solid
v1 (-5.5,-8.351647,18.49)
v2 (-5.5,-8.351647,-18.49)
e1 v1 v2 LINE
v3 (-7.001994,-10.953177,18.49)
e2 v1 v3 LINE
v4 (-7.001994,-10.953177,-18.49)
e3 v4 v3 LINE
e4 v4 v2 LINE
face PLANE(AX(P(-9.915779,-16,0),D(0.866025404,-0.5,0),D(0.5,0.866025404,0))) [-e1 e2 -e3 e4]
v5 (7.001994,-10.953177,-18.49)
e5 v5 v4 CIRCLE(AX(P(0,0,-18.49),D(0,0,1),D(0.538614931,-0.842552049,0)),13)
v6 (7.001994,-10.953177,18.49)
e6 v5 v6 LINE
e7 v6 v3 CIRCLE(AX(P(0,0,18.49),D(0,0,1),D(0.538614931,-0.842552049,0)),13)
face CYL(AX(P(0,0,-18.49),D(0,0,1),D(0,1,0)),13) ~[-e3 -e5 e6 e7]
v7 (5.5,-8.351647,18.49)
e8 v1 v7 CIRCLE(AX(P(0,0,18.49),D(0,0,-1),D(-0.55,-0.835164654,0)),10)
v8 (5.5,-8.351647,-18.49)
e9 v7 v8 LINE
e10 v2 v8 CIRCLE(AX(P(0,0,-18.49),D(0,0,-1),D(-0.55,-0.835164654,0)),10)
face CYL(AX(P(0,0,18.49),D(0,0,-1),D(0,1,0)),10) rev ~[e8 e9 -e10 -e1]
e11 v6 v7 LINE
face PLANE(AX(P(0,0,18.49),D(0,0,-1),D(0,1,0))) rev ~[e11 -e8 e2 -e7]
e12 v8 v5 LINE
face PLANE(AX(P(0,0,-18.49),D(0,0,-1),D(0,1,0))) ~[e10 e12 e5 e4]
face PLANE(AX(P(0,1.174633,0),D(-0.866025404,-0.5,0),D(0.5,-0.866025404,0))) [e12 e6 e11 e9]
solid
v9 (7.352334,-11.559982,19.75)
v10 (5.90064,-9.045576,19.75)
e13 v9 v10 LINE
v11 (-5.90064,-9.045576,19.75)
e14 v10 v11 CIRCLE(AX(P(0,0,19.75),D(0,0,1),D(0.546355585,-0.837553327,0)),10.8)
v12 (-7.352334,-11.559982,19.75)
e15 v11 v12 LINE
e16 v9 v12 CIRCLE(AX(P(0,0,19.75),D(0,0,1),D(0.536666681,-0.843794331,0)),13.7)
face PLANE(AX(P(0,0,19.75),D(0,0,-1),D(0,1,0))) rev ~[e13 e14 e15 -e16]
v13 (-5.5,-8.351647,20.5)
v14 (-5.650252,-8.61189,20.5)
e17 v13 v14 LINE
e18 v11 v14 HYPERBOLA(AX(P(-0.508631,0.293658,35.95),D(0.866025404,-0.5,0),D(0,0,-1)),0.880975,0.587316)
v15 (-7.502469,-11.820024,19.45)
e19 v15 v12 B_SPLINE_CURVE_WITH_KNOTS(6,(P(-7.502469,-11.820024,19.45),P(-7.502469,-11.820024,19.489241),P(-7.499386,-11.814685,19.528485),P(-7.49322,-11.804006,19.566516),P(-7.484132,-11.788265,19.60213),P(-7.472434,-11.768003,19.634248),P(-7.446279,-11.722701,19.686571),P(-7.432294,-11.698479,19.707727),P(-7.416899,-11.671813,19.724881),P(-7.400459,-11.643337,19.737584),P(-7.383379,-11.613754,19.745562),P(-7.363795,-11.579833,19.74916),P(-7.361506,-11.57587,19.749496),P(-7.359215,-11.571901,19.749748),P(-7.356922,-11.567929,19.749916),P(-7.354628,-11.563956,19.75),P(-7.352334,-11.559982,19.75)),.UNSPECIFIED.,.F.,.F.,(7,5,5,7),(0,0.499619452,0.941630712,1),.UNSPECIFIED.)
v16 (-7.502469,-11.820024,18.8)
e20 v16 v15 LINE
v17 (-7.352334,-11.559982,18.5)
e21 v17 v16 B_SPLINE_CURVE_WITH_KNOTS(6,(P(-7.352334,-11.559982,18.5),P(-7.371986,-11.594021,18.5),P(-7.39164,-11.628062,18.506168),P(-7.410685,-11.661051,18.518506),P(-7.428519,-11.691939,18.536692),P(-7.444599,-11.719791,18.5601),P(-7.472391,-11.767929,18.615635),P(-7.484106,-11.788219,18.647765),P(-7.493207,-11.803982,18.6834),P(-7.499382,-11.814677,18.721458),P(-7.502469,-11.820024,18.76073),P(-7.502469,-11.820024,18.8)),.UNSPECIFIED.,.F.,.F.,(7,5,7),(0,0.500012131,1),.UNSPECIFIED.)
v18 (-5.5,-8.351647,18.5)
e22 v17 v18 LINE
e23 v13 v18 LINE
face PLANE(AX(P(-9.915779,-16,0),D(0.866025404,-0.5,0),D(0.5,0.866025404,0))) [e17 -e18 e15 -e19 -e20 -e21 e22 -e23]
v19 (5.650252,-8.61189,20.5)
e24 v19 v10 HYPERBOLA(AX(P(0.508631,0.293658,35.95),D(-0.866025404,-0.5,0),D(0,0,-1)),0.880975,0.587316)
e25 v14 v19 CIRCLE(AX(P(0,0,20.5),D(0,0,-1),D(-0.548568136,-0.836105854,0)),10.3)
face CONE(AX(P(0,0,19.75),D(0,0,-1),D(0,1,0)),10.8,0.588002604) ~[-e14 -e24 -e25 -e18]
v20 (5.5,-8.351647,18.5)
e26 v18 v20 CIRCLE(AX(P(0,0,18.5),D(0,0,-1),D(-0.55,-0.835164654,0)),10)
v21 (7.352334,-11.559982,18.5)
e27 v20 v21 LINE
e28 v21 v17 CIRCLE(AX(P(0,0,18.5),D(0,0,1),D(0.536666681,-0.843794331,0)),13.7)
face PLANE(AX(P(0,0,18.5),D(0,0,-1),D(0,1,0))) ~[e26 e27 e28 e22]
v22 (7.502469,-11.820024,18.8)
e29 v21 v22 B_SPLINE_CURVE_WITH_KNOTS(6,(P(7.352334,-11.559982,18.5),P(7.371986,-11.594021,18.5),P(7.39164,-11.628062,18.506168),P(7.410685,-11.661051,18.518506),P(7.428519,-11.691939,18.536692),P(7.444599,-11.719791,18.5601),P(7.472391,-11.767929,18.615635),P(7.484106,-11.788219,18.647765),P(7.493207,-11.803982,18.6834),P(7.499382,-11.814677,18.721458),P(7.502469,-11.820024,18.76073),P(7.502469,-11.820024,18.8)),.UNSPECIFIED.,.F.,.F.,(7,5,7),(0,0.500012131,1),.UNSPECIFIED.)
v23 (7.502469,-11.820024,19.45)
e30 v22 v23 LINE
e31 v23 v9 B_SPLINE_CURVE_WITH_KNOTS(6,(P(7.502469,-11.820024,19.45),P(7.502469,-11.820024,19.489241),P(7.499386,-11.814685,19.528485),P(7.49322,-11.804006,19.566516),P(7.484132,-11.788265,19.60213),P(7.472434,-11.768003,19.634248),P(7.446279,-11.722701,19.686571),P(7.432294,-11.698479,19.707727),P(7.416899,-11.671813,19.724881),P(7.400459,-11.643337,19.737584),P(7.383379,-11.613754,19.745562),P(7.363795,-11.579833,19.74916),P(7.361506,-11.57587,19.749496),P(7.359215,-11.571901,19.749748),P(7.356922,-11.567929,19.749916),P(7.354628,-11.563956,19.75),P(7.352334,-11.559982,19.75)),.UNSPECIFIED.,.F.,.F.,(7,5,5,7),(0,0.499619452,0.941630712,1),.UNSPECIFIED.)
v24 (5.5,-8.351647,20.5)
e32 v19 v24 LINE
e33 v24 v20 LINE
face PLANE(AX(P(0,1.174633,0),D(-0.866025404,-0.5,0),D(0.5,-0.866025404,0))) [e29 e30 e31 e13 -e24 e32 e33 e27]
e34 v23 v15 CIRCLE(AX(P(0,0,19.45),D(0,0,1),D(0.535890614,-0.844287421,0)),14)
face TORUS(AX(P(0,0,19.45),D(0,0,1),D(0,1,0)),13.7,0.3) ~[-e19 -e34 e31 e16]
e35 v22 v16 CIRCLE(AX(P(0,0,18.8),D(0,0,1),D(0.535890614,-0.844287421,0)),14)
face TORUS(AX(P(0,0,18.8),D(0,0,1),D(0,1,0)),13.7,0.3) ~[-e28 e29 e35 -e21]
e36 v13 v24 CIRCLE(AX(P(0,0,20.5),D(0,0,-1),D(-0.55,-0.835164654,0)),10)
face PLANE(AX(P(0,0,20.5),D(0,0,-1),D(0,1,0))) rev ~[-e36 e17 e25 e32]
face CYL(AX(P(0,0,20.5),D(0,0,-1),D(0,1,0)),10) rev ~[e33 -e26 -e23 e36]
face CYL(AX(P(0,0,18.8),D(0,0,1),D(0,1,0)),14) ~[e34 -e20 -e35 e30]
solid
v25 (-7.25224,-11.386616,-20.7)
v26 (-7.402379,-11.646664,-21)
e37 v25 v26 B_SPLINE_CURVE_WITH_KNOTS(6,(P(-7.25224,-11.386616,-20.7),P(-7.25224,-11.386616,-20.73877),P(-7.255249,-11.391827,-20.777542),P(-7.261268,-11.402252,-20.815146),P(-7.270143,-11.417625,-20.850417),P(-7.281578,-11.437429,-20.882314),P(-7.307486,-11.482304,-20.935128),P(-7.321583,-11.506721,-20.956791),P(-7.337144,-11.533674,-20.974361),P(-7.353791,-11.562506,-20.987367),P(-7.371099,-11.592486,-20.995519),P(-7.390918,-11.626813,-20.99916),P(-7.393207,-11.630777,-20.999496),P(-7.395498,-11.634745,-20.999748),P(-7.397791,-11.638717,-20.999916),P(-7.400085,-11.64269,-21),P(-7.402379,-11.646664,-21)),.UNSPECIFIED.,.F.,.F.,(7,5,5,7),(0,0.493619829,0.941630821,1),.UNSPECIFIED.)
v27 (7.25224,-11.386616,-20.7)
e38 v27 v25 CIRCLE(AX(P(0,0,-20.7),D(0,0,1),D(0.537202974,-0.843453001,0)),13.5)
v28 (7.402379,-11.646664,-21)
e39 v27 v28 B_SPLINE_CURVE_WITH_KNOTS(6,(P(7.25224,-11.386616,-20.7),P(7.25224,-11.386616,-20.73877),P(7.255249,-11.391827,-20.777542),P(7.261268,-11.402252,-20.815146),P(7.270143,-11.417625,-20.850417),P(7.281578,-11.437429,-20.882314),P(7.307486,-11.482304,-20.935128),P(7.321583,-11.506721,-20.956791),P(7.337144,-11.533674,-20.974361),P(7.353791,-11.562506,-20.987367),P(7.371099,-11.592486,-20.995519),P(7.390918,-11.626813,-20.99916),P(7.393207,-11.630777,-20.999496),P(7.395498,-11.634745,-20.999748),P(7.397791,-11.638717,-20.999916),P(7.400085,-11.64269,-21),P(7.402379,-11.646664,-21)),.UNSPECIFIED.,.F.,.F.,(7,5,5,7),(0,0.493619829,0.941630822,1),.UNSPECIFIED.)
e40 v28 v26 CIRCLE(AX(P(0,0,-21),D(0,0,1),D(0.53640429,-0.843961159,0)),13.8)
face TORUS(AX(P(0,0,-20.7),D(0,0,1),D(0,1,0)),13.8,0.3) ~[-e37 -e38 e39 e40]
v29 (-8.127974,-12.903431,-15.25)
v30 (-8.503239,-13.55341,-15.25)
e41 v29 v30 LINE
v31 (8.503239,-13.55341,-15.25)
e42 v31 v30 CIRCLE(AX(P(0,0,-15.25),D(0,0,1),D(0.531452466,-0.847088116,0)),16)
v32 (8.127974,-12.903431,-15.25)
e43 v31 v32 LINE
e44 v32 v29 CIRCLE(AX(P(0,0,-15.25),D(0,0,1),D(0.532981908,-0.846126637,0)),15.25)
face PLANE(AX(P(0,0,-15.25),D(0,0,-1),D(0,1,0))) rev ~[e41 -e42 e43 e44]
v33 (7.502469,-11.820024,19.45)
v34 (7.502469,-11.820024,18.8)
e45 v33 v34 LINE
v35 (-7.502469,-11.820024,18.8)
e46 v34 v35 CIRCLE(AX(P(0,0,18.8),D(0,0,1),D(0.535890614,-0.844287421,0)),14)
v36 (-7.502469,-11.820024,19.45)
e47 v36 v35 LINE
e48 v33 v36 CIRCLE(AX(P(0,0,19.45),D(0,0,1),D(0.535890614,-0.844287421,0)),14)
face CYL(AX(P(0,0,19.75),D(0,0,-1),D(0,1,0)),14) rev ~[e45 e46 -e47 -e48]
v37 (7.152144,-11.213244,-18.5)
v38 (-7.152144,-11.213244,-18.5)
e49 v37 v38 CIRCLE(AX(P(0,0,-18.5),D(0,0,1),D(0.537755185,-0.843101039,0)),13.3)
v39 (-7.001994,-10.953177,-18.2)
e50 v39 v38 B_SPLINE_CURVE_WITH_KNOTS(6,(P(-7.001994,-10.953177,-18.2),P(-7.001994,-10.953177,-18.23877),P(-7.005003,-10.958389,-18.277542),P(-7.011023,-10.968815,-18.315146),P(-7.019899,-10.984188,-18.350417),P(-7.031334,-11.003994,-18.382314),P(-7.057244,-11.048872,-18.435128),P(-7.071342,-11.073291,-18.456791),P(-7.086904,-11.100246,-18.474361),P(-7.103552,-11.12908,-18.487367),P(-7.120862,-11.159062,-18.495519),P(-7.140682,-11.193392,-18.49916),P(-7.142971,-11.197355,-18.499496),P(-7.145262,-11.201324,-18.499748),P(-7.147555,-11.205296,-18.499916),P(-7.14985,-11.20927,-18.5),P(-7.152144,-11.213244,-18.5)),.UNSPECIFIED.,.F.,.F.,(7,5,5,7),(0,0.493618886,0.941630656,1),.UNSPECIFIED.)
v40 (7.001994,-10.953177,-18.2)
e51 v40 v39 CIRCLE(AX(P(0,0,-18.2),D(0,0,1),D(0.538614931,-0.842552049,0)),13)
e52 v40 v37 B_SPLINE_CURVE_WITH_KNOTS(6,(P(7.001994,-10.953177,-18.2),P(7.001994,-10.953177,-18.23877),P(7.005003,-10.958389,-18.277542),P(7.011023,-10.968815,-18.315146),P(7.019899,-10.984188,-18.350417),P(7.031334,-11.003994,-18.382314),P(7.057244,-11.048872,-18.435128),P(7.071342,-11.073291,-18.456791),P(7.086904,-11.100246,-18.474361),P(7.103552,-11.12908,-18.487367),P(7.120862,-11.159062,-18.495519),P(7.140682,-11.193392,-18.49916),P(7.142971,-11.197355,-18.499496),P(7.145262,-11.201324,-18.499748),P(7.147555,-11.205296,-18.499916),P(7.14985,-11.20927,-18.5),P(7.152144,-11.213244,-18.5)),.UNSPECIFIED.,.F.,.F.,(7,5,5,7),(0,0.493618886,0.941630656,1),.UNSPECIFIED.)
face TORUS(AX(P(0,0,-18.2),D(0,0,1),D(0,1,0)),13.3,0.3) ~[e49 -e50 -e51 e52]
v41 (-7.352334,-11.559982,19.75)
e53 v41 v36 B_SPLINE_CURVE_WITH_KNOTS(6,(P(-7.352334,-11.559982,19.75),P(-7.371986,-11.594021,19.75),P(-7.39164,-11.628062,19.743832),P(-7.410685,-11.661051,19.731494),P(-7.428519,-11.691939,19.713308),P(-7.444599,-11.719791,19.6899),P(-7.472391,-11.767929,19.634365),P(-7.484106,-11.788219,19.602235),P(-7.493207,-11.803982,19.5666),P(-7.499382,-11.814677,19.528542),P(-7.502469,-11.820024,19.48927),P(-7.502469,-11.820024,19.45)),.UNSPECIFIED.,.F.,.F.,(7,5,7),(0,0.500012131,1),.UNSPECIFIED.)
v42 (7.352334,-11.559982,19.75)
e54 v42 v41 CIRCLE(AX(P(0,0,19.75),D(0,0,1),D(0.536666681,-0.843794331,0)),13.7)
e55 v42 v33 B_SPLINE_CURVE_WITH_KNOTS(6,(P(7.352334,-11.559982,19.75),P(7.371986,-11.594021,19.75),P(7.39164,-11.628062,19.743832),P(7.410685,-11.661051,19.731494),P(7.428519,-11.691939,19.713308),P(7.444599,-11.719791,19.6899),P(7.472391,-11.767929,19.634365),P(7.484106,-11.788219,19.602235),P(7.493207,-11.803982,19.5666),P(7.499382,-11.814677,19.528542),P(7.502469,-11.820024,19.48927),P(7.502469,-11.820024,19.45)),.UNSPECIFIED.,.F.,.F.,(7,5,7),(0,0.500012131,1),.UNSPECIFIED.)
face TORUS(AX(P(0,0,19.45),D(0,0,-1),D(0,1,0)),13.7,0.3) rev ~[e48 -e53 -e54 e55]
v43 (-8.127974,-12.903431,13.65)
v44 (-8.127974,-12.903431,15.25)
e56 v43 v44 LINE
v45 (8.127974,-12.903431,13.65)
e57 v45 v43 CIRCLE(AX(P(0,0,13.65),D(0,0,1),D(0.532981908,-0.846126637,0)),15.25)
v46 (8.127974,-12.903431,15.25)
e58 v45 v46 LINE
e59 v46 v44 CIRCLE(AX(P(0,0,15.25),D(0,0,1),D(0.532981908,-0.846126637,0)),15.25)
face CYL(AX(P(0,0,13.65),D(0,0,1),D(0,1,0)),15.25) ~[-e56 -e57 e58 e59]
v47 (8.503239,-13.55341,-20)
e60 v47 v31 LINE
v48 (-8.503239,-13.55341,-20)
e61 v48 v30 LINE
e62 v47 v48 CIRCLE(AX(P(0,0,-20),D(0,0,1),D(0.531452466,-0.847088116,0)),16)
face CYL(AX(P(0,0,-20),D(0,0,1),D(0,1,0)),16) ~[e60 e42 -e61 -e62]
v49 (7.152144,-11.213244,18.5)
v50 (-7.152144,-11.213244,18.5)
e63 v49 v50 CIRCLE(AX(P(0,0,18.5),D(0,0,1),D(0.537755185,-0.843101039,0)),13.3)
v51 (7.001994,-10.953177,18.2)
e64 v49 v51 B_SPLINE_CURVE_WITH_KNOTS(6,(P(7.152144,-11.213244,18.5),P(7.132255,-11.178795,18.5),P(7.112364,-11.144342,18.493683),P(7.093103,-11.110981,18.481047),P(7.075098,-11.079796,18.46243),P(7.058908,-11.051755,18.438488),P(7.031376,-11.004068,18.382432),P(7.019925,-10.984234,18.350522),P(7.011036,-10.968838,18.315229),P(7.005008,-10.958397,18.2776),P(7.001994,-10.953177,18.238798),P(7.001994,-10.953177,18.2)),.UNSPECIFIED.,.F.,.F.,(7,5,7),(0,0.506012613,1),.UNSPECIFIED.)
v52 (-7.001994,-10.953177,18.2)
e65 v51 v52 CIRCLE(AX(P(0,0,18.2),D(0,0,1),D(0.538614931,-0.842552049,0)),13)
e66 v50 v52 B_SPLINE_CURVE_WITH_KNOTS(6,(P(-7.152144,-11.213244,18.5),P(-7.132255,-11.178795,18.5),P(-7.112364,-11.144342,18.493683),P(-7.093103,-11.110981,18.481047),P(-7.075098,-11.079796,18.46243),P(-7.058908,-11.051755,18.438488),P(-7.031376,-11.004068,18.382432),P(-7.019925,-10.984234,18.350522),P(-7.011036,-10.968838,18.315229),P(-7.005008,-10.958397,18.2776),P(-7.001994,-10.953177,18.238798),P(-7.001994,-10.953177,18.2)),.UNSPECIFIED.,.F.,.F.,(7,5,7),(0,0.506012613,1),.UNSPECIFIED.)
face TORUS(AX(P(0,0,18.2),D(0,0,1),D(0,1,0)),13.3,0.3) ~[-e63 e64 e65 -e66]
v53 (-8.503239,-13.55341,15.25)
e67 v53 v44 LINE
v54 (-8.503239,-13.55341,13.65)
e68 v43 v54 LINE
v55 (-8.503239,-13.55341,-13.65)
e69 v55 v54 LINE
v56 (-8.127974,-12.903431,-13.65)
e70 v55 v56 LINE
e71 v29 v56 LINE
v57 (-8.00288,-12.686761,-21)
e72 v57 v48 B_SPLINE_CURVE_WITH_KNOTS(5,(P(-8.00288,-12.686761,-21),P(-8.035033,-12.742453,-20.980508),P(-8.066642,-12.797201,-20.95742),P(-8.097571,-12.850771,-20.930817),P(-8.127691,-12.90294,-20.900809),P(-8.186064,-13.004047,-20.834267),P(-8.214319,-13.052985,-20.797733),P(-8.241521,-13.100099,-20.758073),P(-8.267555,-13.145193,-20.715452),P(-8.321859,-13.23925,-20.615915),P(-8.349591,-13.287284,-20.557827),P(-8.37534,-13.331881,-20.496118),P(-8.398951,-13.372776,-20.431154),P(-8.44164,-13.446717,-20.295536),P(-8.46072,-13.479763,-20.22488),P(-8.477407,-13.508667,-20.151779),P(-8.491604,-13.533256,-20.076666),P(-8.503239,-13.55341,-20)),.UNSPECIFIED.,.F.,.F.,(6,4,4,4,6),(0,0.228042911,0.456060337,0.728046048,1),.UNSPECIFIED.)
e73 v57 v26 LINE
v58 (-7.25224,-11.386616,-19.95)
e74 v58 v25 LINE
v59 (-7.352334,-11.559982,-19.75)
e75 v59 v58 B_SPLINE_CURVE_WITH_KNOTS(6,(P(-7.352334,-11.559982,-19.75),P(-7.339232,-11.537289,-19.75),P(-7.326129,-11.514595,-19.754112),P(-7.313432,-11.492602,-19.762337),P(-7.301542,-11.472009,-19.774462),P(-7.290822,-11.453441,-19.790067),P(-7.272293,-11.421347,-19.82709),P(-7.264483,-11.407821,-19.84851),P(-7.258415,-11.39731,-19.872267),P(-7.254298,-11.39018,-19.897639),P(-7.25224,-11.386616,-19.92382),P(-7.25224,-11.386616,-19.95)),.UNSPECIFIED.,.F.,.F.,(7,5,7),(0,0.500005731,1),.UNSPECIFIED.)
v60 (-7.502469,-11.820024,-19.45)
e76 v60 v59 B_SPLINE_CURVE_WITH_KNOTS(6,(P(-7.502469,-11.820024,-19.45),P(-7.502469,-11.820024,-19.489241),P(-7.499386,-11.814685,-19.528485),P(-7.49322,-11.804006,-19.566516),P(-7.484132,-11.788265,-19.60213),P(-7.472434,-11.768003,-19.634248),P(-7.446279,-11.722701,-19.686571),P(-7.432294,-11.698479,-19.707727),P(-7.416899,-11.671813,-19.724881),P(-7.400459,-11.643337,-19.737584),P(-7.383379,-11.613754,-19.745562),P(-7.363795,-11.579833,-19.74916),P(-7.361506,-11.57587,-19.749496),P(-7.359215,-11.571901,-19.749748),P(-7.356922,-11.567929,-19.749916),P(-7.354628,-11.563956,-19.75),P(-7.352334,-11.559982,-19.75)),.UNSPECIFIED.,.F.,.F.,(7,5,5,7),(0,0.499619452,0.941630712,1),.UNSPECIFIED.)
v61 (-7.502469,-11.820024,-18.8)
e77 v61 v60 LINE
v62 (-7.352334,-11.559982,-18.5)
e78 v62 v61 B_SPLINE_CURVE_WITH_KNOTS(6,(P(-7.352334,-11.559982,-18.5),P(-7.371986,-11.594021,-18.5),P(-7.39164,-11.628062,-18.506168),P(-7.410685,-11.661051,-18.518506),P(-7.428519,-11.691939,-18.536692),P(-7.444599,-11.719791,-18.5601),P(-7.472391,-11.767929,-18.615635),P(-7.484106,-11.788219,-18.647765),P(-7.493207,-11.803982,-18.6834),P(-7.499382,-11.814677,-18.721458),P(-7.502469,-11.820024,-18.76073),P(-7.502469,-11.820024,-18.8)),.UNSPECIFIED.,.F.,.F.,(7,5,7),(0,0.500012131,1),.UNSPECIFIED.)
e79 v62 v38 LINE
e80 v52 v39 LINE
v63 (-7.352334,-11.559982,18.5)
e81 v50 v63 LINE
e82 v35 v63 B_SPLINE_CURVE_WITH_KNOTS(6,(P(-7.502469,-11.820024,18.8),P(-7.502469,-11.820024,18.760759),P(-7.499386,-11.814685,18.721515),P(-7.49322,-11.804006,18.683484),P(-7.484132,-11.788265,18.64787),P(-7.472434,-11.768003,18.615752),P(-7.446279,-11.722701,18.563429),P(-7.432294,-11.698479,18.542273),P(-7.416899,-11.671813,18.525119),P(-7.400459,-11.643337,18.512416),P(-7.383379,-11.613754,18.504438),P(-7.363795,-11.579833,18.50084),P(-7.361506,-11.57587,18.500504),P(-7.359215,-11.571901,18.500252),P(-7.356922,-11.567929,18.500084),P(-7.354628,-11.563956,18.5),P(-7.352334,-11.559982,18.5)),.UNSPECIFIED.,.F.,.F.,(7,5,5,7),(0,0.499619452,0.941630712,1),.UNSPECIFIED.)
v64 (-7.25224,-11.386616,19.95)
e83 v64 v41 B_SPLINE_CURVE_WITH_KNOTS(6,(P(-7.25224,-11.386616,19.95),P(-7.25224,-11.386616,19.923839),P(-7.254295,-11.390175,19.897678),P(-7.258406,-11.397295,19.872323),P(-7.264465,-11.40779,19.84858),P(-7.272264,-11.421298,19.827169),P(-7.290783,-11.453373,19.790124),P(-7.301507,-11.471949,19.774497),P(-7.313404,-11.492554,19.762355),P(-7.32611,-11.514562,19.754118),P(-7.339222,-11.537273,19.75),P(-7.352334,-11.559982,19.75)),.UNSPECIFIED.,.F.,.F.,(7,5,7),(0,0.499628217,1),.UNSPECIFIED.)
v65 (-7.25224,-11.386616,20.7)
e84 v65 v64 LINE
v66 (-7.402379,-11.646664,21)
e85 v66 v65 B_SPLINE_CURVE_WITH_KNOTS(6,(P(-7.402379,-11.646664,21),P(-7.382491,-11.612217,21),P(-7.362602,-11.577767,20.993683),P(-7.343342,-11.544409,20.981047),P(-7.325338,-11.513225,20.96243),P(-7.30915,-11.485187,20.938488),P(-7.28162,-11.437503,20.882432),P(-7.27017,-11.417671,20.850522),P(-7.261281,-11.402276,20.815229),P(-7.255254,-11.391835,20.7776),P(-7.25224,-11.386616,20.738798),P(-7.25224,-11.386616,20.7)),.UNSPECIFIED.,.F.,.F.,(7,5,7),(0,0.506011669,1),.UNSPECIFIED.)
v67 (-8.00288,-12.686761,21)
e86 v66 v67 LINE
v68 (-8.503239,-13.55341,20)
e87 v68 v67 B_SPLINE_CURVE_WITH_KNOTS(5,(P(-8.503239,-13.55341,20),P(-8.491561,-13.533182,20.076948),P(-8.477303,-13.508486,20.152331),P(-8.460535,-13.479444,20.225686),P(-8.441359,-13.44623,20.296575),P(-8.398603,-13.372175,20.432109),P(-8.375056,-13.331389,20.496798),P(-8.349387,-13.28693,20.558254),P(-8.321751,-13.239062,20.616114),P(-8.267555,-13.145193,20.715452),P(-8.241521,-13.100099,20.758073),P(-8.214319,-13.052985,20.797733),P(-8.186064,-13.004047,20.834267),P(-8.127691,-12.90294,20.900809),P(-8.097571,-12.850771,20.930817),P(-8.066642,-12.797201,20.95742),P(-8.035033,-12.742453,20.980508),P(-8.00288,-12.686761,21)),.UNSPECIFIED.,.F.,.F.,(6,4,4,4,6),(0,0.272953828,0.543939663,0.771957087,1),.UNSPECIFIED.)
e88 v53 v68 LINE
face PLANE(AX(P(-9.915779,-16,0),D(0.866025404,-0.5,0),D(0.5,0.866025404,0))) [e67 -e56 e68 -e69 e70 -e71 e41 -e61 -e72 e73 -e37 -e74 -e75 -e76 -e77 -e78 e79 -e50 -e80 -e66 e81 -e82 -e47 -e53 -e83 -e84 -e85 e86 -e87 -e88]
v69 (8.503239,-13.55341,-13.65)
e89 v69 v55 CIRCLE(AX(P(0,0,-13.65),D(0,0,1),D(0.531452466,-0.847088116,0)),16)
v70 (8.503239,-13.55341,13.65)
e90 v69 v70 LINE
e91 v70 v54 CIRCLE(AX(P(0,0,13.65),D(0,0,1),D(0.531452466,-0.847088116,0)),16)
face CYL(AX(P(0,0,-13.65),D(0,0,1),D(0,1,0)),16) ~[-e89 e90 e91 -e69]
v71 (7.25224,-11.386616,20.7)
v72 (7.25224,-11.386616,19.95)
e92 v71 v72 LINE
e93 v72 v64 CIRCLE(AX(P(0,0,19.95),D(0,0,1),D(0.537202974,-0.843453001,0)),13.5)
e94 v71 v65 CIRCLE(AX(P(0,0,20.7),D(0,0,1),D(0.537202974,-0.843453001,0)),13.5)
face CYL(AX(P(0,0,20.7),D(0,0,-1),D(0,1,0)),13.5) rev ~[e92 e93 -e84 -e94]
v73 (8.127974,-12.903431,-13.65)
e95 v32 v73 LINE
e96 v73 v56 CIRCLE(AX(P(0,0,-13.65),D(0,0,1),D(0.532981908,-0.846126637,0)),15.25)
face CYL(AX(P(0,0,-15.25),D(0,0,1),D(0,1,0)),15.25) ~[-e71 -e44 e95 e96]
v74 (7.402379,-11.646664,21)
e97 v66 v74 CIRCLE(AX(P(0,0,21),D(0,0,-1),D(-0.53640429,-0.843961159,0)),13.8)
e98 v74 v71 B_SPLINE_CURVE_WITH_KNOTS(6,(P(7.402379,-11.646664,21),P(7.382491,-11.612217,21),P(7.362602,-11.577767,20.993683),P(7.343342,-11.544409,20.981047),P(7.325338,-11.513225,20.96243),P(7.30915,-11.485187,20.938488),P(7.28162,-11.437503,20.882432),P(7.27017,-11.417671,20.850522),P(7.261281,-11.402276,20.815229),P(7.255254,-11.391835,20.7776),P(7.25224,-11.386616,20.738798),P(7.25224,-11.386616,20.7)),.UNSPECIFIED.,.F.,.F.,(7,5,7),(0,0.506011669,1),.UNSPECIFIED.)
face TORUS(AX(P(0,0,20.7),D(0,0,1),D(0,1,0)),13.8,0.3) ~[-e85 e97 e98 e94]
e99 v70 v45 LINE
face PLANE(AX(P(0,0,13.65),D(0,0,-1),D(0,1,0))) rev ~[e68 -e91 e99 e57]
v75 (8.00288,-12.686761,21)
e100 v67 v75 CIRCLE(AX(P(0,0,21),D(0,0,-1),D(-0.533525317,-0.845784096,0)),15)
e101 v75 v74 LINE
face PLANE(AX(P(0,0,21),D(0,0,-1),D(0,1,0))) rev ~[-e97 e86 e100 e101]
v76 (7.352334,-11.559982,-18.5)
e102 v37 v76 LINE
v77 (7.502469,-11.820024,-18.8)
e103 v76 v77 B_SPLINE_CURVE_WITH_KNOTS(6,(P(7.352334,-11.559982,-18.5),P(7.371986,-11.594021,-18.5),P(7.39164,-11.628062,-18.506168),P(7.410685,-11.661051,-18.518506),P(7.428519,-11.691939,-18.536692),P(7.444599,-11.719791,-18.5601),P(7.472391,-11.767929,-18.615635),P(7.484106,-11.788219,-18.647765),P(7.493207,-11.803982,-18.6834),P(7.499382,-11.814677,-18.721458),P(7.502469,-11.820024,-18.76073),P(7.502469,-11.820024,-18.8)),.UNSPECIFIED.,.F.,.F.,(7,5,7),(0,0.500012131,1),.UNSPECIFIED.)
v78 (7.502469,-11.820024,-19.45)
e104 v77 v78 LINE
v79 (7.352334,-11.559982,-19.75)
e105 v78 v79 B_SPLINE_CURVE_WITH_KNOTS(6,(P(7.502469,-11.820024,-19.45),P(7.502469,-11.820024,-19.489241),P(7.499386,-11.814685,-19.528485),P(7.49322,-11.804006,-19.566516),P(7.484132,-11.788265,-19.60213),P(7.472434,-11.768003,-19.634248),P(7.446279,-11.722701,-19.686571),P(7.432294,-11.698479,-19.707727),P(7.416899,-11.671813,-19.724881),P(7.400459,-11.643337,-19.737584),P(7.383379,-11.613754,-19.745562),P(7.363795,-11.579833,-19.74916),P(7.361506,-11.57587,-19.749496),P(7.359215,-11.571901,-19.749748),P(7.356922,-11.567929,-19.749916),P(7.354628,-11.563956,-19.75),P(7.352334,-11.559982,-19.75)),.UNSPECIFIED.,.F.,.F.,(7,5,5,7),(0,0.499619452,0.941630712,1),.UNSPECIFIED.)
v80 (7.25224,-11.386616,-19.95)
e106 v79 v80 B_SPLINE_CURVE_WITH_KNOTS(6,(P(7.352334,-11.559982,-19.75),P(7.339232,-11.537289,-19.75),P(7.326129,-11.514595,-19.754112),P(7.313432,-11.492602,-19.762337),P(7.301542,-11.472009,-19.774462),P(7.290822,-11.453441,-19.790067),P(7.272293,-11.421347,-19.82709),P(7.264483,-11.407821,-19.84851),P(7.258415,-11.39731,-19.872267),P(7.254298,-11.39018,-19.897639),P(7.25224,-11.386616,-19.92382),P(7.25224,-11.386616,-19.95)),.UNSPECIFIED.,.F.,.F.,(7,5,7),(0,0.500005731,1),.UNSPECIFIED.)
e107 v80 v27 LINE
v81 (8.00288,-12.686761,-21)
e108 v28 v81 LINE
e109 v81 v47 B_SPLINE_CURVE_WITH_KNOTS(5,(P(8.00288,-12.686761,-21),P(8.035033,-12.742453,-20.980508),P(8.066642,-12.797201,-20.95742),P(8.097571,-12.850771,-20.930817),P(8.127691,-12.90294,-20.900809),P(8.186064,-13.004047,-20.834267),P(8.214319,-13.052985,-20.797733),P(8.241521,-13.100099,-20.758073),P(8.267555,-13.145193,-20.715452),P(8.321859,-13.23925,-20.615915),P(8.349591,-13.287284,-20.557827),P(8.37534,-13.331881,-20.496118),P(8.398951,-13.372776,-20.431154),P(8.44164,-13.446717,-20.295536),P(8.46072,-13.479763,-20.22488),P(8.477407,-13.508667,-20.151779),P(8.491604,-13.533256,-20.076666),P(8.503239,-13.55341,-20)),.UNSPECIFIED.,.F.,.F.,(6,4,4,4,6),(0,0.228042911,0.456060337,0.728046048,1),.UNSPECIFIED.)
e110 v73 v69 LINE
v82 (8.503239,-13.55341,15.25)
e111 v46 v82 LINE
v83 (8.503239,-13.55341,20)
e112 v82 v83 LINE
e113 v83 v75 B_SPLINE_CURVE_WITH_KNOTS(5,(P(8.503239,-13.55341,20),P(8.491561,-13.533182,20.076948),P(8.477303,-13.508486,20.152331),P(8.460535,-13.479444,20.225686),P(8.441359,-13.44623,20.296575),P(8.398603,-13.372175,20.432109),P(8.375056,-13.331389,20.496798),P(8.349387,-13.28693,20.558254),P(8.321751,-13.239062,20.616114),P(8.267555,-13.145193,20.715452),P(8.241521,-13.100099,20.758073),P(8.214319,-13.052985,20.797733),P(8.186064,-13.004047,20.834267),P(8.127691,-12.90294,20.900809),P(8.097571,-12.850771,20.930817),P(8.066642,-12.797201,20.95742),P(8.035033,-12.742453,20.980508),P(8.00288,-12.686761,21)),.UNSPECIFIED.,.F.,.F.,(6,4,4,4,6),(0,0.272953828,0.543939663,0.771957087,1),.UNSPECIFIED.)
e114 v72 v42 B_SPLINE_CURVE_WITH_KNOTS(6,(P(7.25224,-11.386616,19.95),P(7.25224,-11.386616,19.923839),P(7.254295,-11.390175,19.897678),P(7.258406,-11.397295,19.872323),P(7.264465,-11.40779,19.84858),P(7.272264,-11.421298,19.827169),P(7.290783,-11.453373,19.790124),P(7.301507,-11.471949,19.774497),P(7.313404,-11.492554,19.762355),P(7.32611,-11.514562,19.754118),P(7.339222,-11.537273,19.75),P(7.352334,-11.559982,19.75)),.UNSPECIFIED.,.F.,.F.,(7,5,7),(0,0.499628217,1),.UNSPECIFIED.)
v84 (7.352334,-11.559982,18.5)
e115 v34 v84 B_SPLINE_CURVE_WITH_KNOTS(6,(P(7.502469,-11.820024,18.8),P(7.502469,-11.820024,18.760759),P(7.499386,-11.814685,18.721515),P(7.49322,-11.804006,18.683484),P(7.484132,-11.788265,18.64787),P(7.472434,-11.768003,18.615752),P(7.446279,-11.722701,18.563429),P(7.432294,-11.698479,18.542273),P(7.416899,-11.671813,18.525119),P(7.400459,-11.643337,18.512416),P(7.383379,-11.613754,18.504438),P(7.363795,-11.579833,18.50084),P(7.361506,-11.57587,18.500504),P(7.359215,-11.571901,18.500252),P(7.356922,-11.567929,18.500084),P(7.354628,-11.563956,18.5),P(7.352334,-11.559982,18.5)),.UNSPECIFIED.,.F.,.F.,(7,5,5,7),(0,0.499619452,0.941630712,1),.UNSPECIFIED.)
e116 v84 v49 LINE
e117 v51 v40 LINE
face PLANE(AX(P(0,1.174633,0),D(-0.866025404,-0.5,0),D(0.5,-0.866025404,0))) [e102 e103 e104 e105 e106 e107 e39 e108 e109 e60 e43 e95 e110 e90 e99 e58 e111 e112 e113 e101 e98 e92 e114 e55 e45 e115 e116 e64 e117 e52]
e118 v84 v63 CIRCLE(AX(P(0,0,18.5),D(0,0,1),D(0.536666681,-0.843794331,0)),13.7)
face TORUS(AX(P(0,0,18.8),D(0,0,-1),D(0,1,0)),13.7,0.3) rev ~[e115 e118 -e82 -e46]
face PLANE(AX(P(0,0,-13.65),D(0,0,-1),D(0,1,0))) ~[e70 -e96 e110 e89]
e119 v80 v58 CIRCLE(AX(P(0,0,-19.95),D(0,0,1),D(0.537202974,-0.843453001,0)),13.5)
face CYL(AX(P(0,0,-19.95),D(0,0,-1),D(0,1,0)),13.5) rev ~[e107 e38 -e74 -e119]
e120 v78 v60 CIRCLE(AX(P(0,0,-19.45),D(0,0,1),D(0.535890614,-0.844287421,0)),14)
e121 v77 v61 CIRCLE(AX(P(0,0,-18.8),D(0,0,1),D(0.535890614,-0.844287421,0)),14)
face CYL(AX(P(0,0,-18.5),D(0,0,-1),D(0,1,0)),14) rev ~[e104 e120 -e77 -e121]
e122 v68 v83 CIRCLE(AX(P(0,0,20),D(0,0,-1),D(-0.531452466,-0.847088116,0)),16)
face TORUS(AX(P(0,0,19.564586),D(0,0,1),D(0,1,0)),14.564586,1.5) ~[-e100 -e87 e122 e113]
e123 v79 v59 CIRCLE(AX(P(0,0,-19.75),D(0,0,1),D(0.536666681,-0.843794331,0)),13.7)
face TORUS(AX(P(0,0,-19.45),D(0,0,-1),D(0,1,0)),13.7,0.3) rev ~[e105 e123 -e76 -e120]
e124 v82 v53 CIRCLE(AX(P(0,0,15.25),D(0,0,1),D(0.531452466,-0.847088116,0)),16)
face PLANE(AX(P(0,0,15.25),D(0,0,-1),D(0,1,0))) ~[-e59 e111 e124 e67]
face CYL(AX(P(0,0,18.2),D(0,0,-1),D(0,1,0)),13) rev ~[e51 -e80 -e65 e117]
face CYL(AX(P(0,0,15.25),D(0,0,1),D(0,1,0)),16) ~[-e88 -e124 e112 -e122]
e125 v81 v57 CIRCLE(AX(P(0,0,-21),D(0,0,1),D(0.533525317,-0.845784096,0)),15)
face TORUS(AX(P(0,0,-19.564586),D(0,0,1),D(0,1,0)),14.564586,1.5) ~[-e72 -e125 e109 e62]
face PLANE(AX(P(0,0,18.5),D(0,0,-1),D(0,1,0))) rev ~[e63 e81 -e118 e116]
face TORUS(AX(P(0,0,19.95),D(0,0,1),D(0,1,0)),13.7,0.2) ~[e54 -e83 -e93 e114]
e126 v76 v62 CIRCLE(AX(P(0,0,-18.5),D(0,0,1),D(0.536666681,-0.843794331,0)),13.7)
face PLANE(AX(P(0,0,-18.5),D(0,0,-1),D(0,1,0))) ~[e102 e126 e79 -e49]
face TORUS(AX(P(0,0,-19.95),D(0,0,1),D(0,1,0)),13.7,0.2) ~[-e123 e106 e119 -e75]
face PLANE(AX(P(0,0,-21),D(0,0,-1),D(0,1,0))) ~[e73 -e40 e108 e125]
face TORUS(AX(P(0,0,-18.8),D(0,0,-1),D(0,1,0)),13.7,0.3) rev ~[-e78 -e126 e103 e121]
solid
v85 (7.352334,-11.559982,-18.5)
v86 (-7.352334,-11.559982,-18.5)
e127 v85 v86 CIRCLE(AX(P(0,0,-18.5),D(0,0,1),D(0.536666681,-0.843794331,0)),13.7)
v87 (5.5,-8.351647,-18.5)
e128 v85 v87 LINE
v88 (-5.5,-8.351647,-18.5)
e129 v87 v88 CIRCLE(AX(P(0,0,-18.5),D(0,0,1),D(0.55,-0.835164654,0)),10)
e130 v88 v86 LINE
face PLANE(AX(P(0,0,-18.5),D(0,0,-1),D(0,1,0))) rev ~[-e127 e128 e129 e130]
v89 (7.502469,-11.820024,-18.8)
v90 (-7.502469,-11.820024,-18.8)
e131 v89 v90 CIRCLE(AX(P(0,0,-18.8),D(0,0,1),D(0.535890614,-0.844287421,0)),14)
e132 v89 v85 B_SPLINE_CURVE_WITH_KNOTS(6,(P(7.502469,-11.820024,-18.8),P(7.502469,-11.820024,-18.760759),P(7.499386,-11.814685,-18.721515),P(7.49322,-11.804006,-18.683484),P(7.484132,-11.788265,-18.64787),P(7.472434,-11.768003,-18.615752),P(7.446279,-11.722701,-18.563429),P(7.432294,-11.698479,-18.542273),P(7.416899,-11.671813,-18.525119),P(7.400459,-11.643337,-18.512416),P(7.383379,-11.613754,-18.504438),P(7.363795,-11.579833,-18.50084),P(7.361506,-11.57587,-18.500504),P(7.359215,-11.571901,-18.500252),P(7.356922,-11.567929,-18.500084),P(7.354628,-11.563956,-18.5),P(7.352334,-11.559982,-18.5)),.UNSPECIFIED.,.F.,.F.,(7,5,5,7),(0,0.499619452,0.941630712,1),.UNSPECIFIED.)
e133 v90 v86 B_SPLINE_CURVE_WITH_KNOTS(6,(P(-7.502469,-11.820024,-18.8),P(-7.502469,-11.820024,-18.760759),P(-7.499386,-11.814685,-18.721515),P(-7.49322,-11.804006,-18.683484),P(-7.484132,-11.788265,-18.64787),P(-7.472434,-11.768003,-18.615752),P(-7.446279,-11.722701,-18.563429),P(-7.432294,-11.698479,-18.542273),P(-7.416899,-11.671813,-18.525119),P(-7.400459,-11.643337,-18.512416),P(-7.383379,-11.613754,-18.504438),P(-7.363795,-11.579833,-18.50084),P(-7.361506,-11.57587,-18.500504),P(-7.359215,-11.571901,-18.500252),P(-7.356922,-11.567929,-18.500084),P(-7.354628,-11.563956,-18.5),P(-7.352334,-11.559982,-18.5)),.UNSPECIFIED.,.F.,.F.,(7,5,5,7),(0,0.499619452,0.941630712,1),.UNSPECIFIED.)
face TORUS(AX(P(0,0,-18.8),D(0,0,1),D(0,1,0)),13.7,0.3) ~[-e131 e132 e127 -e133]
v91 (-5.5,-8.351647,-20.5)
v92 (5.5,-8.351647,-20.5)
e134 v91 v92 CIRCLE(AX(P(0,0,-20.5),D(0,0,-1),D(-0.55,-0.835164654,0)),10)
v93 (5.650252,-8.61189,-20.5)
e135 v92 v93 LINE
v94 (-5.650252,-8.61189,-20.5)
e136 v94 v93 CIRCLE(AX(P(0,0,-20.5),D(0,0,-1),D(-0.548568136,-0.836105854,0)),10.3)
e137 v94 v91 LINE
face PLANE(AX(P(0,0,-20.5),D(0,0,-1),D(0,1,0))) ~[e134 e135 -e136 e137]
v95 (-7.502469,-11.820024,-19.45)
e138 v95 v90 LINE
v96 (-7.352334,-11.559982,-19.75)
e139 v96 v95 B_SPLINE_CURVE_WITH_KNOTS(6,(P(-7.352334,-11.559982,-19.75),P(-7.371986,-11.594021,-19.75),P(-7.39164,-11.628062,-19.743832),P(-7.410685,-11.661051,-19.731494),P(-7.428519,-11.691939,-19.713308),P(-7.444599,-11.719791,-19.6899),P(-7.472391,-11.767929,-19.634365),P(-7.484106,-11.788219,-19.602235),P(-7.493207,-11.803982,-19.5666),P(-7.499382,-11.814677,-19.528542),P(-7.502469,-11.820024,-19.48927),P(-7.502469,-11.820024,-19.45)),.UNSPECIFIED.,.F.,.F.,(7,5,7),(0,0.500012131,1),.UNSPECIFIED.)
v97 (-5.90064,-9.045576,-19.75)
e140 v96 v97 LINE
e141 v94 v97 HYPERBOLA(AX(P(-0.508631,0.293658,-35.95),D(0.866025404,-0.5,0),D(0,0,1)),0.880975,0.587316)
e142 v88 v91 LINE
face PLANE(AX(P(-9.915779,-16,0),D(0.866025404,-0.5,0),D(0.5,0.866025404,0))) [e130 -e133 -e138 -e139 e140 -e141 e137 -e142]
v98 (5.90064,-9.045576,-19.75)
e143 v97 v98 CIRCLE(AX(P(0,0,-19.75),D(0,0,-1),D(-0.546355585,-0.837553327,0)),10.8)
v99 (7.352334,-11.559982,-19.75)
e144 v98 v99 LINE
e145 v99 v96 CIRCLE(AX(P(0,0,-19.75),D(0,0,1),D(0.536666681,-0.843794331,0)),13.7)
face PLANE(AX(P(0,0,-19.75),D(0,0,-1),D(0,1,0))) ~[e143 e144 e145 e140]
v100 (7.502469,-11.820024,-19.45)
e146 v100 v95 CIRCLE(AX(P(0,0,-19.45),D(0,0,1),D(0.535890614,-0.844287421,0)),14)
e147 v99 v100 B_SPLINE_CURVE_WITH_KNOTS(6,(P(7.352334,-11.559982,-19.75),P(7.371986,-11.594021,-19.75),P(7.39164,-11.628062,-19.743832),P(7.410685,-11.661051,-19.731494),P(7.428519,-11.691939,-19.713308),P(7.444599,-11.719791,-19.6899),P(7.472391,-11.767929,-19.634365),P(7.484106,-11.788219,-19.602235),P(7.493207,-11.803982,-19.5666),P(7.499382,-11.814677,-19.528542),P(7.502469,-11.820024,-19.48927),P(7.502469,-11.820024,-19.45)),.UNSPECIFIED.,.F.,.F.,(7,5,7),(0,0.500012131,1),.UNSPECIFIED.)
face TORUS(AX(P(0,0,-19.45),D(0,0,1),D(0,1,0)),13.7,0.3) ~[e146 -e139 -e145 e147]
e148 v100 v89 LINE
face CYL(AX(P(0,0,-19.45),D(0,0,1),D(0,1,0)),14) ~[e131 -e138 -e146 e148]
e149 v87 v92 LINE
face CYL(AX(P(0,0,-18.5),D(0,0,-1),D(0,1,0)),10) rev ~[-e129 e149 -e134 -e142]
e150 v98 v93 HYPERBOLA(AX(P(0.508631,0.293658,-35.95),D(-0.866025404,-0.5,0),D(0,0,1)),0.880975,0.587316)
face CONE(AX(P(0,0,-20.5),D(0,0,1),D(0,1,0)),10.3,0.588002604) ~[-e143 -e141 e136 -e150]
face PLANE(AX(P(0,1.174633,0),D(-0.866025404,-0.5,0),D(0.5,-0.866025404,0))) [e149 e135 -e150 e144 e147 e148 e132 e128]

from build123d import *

# Parameters (mm, degrees)
CUT_EXTRUDE_1_DEPTH      = 22
CUT_EXTRUDE_1_DEPTH_BACK = 22


with BuildPart() as part:
    # Эскиз1 → Повернуть1 (revolve)
    with BuildSketch(Plane(origin=(0, 0, 0), x_dir=(0, 0, -1), z_dir=(1, 0, 0))):
        Polygon((18.5, 13), (18.5, 10), (20.5, 10), (20.5, 10.3), (19.75, 10.8), (19.75, 13), align=None)
        with BuildLine():
            Line((18.5, 13.7), (18.5, 13.3))
            Line((18.5, 13.3), (18.5, 13))
            Line((18.5, 13), (19.75, 13))
            Line((19.75, 13), (19.75, 13.5))
            Line((19.75, 13.5), (19.75, 13.7))
            ThreePointArc((19.75, 13.7), (19.662132034, 13.912132034), (19.45, 14))
            Line((19.45, 14), (18.8, 14))
            ThreePointArc((18.8, 14), (18.587867966, 13.912132034), (18.5, 13.7))
        make_face()
        Polygon((-18.2, 13), (-18.49, 13), (-18.49, 10), (18.49, 10), (18.49, 13), (18.2, 13), align=None)
        Polygon((-18.5, 13), (-19.75, 13), (-19.75, 10.8), (-20.5, 10.3), (-20.5, 10), (-18.5, 10), align=None)
        with BuildLine():
            Line((-19.75, 13.5), (-19.75, 13))
            Line((-19.75, 13), (-18.5, 13))
            Line((-18.5, 13), (-18.5, 13.3))
            Line((-18.5, 13.3), (-18.5, 13.7))
            ThreePointArc((-18.5, 13.7), (-18.587867966, 13.912132034), (-18.8, 14))
            Line((-18.8, 14), (-19.45, 14))
            ThreePointArc((-19.45, 14), (-19.662132034, 13.912132034), (-19.75, 13.7))
            Line((-19.75, 13.7), (-19.75, 13.5))
        make_face()
    revolve(axis=Axis((0, 0, 43.343199199), (0, 0, -1)))


with BuildPart() as body_2:
    # Эскиз1<3> → Повернуть2 (revolve)
    with BuildSketch(Plane(origin=(0, 0, 0), x_dir=(0, 0, -1), z_dir=(1, 0, 0))):
        with BuildLine():
            Line((-15.25, 16), (-20, 16))
            ThreePointArc((-20, 16), (-20.625245825, 15.625245825), (-21, 15))
            Line((-21, 15), (-21, 13.8))
            ThreePointArc((-21, 13.8), (-20.912132034, 13.587867966), (-20.7, 13.5))
            Line((-20.7, 13.5), (-19.95, 13.5))
            ThreePointArc((-19.95, 13.5), (-19.808578644, 13.558578644), (-19.75, 13.7))
            Line((-19.75, 13.7), (-19.75, 14))
            Line((-19.75, 14), (-19.45, 14))
            Line((-19.45, 14), (-18.8, 14))
            Line((-18.8, 14), (-18.5, 14))
            Line((-18.5, 14), (-18.5, 13.7))
            Line((-18.5, 13.7), (-18.5, 13.3))
            ThreePointArc((-18.5, 13.3), (-18.412132034, 13.087867966), (-18.2, 13))
            Line((-18.2, 13), (18.2, 13))
            ThreePointArc((18.2, 13), (18.412132034, 13.087867966), (18.5, 13.3))
            Line((18.5, 13.3), (18.5, 13.7))
            Line((18.5, 13.7), (18.5, 14))
            Line((18.5, 14), (18.8, 14))
            Line((18.8, 14), (19.45, 14))
            Line((19.45, 14), (19.75, 14))
            Line((19.75, 14), (19.75, 13.7))
            ThreePointArc((19.75, 13.7), (19.808578644, 13.558578644), (19.95, 13.5))
            Line((19.95, 13.5), (20.7, 13.5))
            ThreePointArc((20.7, 13.5), (20.912132034, 13.587867966), (21, 13.8))
            Line((21, 13.8), (21, 15))
            ThreePointArc((21, 15), (20.625245825, 15.625245825), (20, 16))
            Line((20, 16), (15.25, 16))
            Line((15.25, 16), (15.25, 15.25))
            Line((15.25, 15.25), (13.65, 15.25))
            Line((13.65, 15.25), (13.65, 16))
            Line((13.65, 16), (-13.65, 16))
            Line((-13.65, 16), (-13.65, 15.25))
            Line((-13.65, 15.25), (-15.25, 15.25))
            Line((-15.25, 15.25), (-15.25, 16))
        make_face()
        with BuildLine():
            Line((-19.75, 14), (-19.75, 13.7))
            ThreePointArc((-19.75, 13.7), (-19.662132034, 13.912132034), (-19.45, 14))
            Line((-19.45, 14), (-19.75, 14))
        make_face()
        with BuildLine():
            Line((-18.5, 14), (-18.8, 14))
            ThreePointArc((-18.8, 14), (-18.587867966, 13.912132034), (-18.5, 13.7))
            Line((-18.5, 13.7), (-18.5, 14))
        make_face()
        with BuildLine():
            Line((18.5, 14), (18.5, 13.7))
            ThreePointArc((18.5, 13.7), (18.587867966, 13.912132034), (18.8, 14))
            Line((18.8, 14), (18.5, 14))
        make_face()
        with BuildLine():
            ThreePointArc((19.45, 14), (19.662132034, 13.912132034), (19.75, 13.7))
            Line((19.75, 13.7), (19.75, 14))
            Line((19.75, 14), (19.45, 14))
        make_face()
    revolve(axis=Axis((0, 0, 43.343199199), (0, 0, -1)))


with BuildPart() as cut_extrude_1_tool:
    # Эскиз2 → Вырез-Вытянуть1 (new body, two sides)
    with BuildSketch(Plane.XY) as cut_extrude_1_sk:
        Polygon((0, 1.174632897), (9.915778927, -16), (-9.915778927, -16), align=None)
    extrude(amount=CUT_EXTRUDE_1_DEPTH)
    extrude(cut_extrude_1_sk.sketch, amount=-CUT_EXTRUDE_1_DEPTH_BACK)


with BuildPart() as part_1:
    add(part.part)

    # Вырез-Вытянуть1: cut by cut_extrude_1_tool
    add(cut_extrude_1_tool.part, mode=Mode.SUBTRACT)


with BuildPart() as body_2_1:
    add(body_2.part)

    # Вырез-Вытянуть1: cut by cut_extrude_1_tool
    add(cut_extrude_1_tool.part, mode=Mode.SUBTRACT)


solid = Compound([part_1.part, body_2_1.part])
